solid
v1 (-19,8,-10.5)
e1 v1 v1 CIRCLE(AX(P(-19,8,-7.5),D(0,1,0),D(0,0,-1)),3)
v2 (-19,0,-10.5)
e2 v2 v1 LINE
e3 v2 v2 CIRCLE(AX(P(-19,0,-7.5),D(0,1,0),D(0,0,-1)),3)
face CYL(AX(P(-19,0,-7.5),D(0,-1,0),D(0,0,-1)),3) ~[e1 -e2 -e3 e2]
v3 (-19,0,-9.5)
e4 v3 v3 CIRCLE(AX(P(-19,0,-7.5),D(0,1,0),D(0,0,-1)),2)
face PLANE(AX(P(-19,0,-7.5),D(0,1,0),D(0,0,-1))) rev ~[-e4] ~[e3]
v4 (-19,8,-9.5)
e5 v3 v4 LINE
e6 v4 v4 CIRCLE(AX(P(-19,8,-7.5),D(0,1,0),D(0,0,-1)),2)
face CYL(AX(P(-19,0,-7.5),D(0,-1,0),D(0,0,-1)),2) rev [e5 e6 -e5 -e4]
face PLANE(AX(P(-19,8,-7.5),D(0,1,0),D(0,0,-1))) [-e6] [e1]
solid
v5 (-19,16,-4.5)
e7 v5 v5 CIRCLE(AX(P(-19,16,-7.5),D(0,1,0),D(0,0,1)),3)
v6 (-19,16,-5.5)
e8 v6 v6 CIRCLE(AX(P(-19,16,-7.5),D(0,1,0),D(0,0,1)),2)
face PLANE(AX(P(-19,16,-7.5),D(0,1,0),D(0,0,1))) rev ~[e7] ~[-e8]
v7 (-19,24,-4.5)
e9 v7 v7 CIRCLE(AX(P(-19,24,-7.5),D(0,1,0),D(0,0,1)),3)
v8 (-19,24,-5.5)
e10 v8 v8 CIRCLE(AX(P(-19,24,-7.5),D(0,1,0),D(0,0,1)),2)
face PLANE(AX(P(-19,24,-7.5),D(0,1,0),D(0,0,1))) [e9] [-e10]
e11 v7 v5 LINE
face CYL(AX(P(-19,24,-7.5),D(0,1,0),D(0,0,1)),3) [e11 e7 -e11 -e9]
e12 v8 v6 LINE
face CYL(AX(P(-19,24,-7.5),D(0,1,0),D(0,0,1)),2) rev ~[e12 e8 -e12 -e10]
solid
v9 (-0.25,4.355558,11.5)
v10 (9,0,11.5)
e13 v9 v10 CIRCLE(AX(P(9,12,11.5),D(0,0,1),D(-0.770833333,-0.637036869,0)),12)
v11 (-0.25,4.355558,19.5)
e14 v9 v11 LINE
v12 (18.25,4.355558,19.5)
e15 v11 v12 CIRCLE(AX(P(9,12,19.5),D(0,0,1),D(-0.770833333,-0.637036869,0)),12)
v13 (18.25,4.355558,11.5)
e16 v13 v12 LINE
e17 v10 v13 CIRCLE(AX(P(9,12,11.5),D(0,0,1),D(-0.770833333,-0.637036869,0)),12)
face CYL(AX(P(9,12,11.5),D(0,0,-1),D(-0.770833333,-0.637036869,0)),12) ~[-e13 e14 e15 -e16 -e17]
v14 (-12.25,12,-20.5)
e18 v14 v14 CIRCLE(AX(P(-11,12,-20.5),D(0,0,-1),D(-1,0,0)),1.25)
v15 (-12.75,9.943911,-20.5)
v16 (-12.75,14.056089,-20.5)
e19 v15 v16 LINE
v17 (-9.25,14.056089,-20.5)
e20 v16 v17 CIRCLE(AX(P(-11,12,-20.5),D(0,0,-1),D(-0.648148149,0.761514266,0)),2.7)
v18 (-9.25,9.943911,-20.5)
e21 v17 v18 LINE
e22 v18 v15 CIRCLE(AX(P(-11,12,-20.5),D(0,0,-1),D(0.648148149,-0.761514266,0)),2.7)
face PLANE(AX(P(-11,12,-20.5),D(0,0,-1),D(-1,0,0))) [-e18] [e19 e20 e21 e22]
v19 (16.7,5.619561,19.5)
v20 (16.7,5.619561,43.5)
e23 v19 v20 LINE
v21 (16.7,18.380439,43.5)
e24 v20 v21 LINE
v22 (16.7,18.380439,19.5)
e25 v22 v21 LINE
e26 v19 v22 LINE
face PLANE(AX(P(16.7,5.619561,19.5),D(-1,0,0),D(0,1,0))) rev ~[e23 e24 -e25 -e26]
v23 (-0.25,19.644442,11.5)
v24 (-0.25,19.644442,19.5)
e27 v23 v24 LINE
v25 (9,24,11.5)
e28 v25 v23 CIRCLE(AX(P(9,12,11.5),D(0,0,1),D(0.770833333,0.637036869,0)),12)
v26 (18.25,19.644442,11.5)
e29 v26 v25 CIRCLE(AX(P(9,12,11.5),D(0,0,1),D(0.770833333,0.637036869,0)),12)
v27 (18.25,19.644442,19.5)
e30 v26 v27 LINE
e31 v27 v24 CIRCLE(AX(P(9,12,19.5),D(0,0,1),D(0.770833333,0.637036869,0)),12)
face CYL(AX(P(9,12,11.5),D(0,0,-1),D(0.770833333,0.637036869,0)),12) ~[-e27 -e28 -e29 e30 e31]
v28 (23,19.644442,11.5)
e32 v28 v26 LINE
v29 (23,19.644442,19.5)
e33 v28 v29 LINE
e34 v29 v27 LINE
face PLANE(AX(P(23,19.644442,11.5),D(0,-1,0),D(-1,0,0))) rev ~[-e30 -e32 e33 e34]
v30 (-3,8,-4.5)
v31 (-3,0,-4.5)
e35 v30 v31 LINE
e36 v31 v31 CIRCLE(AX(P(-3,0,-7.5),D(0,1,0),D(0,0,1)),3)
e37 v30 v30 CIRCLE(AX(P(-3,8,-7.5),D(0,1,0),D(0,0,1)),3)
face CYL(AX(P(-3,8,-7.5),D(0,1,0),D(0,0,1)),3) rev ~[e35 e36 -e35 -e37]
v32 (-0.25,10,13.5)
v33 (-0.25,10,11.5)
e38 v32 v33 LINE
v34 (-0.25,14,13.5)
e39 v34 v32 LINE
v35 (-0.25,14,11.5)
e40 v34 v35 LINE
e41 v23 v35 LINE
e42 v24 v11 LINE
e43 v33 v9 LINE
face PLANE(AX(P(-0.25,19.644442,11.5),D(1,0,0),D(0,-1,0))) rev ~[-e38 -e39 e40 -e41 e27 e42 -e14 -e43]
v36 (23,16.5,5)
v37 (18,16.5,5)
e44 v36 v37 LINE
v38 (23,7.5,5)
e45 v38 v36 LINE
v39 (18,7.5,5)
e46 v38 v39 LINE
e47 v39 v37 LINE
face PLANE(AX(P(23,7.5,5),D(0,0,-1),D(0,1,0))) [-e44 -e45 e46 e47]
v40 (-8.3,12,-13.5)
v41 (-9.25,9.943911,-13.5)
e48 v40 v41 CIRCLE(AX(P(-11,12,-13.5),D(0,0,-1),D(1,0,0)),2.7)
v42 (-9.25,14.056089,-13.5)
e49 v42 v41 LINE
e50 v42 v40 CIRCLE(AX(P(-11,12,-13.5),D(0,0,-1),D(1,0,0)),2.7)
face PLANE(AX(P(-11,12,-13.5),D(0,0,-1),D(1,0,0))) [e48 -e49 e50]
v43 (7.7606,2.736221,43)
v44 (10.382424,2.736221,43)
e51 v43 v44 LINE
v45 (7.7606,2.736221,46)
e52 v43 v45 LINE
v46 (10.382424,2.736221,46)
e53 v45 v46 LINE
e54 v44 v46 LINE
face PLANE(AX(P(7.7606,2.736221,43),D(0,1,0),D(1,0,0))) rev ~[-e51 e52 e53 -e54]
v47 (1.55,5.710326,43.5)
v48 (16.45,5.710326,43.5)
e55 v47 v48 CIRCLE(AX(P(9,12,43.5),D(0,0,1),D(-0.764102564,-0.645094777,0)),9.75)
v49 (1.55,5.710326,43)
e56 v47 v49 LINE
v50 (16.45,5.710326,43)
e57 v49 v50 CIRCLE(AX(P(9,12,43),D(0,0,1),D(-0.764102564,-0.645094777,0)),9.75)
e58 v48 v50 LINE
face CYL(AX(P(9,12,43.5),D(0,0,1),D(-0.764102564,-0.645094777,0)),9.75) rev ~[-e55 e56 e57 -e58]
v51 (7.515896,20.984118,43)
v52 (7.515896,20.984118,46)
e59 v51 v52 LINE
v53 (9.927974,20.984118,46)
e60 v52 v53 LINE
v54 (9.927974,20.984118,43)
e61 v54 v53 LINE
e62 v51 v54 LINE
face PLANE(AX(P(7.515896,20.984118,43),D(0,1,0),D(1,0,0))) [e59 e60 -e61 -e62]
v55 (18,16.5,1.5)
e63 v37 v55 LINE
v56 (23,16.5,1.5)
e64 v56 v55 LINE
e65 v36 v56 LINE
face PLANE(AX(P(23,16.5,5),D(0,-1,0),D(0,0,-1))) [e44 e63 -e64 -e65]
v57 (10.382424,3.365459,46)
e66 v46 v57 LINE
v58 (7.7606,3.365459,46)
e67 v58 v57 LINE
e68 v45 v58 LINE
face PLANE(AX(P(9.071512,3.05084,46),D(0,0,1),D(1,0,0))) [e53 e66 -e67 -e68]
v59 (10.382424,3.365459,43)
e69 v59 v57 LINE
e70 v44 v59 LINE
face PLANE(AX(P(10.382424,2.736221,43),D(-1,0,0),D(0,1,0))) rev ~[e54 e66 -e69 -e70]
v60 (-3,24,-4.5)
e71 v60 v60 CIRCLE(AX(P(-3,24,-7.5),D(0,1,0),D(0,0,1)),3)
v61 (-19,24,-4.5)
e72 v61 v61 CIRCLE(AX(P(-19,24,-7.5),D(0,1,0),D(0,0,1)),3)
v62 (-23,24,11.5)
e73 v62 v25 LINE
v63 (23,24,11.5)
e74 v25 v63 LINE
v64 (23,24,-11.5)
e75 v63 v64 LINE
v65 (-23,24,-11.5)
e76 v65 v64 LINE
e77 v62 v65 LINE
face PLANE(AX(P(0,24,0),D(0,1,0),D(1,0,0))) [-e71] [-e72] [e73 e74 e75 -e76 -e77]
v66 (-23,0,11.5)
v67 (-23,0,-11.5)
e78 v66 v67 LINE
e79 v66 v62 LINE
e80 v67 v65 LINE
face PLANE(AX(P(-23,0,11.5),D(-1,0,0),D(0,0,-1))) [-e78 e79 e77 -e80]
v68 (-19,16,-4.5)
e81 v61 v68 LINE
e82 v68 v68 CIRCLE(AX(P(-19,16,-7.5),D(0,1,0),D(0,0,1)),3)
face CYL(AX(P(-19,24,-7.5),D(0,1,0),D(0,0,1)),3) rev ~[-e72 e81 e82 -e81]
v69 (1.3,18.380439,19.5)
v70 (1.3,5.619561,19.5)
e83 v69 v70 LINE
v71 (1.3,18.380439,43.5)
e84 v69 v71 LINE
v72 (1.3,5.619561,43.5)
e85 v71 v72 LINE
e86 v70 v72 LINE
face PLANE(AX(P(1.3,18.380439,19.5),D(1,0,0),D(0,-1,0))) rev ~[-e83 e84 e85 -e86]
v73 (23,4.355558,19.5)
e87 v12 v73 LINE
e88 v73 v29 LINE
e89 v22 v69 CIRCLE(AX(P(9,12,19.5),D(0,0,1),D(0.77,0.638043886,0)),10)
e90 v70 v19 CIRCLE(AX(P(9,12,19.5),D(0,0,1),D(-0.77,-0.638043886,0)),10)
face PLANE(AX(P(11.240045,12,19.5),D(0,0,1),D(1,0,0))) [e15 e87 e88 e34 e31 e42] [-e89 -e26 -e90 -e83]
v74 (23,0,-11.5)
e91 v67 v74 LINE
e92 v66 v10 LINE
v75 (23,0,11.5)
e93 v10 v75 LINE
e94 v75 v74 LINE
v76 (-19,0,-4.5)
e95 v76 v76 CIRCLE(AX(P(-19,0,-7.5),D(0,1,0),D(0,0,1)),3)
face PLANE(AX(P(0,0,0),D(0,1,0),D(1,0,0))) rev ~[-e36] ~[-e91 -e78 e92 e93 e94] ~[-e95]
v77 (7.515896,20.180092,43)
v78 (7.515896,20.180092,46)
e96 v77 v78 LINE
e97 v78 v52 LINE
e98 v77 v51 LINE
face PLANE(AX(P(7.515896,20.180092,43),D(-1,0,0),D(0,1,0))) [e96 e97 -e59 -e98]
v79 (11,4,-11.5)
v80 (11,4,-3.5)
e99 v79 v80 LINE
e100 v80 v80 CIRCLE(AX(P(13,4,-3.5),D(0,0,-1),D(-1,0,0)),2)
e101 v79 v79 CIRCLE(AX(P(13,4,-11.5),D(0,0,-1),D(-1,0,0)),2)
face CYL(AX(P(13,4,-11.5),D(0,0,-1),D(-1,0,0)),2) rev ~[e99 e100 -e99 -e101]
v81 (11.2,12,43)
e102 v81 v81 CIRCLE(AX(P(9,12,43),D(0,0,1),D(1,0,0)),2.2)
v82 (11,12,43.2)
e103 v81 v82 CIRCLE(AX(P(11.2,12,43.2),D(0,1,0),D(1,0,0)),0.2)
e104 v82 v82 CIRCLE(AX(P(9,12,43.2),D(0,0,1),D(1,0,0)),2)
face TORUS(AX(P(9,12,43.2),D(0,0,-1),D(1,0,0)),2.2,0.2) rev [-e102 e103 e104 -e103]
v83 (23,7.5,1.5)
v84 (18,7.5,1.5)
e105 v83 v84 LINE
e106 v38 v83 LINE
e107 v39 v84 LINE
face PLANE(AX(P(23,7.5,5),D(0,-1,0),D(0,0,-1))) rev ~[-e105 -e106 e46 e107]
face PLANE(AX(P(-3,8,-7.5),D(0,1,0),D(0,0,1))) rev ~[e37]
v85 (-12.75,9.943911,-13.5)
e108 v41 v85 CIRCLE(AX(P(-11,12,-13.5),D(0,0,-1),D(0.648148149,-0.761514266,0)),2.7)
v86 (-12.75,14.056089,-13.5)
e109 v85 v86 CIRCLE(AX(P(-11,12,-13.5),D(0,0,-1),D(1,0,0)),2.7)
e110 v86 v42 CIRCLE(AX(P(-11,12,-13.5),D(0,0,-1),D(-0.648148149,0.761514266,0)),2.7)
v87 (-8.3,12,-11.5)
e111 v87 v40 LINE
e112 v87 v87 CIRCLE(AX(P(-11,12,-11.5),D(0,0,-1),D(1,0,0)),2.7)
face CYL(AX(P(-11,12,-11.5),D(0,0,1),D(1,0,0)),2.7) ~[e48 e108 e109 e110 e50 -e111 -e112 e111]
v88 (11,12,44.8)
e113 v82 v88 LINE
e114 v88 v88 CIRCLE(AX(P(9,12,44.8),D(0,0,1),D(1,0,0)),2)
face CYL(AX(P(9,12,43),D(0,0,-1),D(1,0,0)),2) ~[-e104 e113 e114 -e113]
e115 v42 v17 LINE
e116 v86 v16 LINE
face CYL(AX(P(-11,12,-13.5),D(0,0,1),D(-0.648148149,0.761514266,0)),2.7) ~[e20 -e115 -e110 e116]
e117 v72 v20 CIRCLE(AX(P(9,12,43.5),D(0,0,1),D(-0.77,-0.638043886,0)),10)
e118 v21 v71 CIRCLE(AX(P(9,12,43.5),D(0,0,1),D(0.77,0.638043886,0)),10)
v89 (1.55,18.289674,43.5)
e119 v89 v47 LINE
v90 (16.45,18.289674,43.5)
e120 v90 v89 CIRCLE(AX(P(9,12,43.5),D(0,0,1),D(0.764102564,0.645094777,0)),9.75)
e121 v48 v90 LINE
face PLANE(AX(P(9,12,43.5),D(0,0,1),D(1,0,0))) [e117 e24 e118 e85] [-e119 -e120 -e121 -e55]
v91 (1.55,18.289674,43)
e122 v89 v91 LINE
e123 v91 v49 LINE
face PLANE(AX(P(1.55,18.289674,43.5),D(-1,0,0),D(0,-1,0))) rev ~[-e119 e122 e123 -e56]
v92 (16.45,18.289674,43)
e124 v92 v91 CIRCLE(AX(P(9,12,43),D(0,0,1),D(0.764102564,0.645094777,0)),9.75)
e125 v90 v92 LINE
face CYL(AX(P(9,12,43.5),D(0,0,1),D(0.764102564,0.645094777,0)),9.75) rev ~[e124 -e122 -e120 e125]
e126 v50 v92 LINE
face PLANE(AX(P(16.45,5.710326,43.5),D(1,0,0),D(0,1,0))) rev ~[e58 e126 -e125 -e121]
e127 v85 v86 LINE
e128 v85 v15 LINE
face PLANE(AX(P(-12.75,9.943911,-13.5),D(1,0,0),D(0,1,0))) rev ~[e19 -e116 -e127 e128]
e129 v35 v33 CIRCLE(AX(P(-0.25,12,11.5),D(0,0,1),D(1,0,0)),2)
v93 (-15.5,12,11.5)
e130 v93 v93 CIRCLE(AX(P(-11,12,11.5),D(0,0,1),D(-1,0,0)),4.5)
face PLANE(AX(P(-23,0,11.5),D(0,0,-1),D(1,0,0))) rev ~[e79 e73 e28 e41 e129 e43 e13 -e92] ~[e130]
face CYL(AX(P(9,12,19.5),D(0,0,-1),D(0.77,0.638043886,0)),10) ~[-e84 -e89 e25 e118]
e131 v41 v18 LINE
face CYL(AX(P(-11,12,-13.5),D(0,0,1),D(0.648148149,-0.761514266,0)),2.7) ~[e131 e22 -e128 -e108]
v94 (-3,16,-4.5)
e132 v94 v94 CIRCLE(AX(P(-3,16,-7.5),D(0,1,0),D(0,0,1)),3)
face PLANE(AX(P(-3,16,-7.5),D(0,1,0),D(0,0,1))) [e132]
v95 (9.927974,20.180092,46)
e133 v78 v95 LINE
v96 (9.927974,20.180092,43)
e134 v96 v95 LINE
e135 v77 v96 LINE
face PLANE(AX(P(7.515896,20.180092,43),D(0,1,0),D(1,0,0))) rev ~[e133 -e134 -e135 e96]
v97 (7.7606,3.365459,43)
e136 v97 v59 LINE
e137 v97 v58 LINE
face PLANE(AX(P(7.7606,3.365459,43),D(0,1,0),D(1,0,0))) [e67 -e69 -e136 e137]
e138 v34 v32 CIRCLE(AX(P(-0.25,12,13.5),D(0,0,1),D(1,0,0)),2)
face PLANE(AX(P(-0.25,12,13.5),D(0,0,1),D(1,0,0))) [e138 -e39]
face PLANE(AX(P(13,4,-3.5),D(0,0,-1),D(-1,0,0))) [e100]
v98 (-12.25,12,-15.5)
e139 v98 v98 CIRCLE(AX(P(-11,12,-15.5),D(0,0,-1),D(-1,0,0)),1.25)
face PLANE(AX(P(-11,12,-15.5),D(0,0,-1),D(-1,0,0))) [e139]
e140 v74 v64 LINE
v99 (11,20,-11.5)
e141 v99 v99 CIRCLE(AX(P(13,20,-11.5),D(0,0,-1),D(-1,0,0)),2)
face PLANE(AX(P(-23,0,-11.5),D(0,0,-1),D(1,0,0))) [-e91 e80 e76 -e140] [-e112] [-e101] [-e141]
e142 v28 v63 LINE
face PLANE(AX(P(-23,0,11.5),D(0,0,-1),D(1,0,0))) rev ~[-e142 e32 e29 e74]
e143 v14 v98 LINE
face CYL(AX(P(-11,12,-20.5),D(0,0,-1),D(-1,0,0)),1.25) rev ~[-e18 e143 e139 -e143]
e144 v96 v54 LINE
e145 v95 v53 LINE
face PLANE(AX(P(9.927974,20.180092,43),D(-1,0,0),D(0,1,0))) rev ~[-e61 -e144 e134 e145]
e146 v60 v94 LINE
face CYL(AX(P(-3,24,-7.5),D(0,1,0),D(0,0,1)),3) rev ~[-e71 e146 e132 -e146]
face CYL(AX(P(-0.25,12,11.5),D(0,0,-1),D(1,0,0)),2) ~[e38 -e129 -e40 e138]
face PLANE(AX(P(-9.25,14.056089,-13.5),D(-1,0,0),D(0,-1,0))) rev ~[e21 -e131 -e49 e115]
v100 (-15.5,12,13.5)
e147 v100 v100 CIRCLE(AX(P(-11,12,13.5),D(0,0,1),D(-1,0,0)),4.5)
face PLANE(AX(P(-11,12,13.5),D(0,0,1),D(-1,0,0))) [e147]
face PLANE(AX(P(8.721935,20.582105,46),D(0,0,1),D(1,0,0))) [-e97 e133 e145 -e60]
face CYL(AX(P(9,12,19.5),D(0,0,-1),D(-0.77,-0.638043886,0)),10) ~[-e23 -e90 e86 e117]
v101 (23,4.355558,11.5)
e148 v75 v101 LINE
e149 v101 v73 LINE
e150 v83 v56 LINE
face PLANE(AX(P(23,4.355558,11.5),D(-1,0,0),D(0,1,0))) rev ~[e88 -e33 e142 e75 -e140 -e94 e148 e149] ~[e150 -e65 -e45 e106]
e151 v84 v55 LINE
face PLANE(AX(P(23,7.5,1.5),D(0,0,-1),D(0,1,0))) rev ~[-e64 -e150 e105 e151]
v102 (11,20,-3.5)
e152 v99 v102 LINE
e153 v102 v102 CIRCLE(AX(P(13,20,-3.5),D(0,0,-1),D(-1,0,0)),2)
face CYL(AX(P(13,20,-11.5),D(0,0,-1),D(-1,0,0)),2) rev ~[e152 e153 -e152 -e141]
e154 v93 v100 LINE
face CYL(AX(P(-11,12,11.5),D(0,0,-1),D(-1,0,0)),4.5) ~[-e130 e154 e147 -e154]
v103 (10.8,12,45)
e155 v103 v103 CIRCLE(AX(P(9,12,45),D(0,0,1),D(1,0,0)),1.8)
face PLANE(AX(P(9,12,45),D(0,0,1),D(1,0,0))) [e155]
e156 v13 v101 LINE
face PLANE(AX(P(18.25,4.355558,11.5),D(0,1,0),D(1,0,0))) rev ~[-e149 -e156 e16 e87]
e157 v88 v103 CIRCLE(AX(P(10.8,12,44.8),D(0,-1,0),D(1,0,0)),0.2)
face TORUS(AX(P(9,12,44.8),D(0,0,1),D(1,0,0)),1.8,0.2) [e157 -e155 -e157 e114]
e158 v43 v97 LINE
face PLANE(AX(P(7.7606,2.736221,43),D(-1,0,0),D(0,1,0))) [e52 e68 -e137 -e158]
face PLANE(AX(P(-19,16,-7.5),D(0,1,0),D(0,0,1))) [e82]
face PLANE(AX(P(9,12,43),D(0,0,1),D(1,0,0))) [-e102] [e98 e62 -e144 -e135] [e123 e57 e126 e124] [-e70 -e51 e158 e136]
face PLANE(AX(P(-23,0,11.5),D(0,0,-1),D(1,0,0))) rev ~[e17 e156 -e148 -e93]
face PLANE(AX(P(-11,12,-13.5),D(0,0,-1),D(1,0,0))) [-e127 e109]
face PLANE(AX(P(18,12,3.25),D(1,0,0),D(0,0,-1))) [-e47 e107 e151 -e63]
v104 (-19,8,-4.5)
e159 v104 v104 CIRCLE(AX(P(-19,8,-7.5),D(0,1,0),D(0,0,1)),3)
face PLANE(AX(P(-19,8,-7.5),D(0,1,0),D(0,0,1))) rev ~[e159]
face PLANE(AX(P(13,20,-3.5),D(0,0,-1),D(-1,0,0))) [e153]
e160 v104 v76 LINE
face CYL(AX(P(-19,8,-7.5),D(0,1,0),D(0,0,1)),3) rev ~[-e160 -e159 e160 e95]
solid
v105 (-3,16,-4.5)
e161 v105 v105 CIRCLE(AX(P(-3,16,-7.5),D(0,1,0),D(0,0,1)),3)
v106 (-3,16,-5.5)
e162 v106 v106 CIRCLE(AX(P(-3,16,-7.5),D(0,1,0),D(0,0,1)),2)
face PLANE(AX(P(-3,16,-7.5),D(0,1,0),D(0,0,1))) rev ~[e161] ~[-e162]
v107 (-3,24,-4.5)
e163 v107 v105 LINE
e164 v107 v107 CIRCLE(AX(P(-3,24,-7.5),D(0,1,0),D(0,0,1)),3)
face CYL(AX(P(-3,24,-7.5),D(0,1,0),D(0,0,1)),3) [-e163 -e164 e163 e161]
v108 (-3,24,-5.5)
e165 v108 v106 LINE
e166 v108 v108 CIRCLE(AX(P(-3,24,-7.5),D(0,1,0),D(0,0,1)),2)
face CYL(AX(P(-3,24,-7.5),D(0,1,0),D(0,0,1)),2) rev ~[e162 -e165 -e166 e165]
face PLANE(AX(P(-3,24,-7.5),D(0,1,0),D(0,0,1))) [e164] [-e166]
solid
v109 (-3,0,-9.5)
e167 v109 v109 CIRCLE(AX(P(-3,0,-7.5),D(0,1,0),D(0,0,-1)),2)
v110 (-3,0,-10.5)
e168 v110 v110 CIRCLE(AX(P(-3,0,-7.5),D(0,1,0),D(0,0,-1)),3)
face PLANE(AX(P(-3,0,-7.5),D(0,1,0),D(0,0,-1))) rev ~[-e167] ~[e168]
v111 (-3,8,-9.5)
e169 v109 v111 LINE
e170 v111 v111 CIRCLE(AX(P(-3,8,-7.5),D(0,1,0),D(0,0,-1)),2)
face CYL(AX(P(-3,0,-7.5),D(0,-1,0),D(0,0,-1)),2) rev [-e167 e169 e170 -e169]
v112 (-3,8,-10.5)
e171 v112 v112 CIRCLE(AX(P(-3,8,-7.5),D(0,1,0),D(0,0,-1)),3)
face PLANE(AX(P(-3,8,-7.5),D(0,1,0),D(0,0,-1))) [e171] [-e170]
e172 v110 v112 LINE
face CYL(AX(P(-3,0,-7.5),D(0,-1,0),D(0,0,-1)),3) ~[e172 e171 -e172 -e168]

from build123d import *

# Parameters (mm, degrees)
SKETCH_1_W            = 46
SKETCH_1_H            = 23
EXTRUDE_1_DEPTH       = 24
EXTRUDE_2_DEPTH       = 8
EXTRUDE_3_DEPTH       = 24
SKETCH_4_R            = 4.5
SKETCH_4_R_2          = 2
EXTRUDE_4_DEPTH       = 2
SKETCH_6_W            = 3.5
SKETCH_6_H            = 9
CUT_EXTRUDE_1_DEPTH   = 5
SKETCH_7_R            = 2.7
EXTRUDE_5_DEPTH       = 2
EXTRUDE_6_DEPTH       = 7
SKETCH_9_R            = 1.25
CUT_EXTRUDE_2_DEPTH   = 5
SKETCH_10_R           = 3
CUT_EXTRUDE_3_DEPTH   = 8
CUT_EXTRUDE_START     = -16
SKETCH_10_2_R         = 3
CUT_EXTRUDE_4_DEPTH   = 8
SKETCH_11_R           = 2
CUT_EXTRUDE_5_DEPTH   = 8
SKETCH1_R             = 3
SKETCH1_R_2           = 2
BOSS_EXTRUDE1_DEPTH   = 8
BOSS_EXTRUDE1_2_DEPTH = 8
BOSS_EXTRUDE2_START   = -24
SKETCH1_2_R           = 3
SKETCH1_2_R_2         = 2
BOSS_EXTRUDE2_DEPTH   = 8
BOSS_EXTRUDE2_2_DEPTH = 8
CUT_EXTRUDE1_DEPTH    = 0.5
SKETCH3_R             = 2
BOSS_EXTRUDE3_DEPTH   = 2
FILLET1_R             = 0.2
SKETCH4_W             = 2.412078278
SKETCH4_H             = 0.804026092
SKETCH4_W_2           = 2.621824216
SKETCH4_H_2           = 0.629237812
BOSS_EXTRUDE4_DEPTH   = 3


with BuildPart() as part:
    # 草图1 → 凸台-拉伸1 (new body)
    with BuildSketch(Plane(origin=(0, 0, 0), x_dir=(1, 0, 0), z_dir=(0, 1, 0))):
        Rectangle(SKETCH_1_W, SKETCH_1_H)
    extrude(amount=EXTRUDE_1_DEPTH)

    # 草图2 → 凸台-拉伸2 (add)
    with BuildSketch(Plane.XY.offset(11.5)):
        with BuildLine():
            Line((-0.25, 19.644442426), (-0.25, 4.355557574))
            ThreePointArc((-0.25, 4.355557574), (9, 0), (18.25, 4.355557574))
            Line((18.25, 4.355557574), (23, 4.355557574))
            Line((23, 4.355557574), (23, 19.644442426))
            Line((23, 19.644442426), (18.25, 19.644442426))
            ThreePointArc((18.25, 19.644442426), (9, 24), (-0.25, 19.644442426))
        make_face()
    extrude(amount=EXTRUDE_2_DEPTH)

    # 草图3 → 凸台-拉伸3 (add)
    with BuildSketch(Plane.XY.offset(19.5)):
        with BuildLine():
            Line((1.3, 18.380438856), (1.3, 5.619561144))
            ThreePointArc((1.3, 5.619561144), (9, 2), (16.7, 5.619561144))
            Line((16.7, 5.619561144), (16.7, 18.380438856))
            ThreePointArc((16.7, 18.380438856), (9, 22), (1.3, 18.380438856))
        make_face()
    extrude(amount=EXTRUDE_3_DEPTH)

    # 草图4 → 凸台-拉伸4 (add)
    with BuildSketch(Plane.XY.offset(11.5)):
        with Locations(Location((-11, 12, 0), (0, 0, 180))):
            Circle(SKETCH_4_R)
        with Locations((-0.25, 12)):
            Circle(SKETCH_4_R_2)
    extrude(amount=EXTRUDE_4_DEPTH)

    # 草图6 → 切除-拉伸1 (cut)
    with BuildSketch(Plane(origin=(23, 0, 0), x_dir=(0, 0, -1), z_dir=(1, 0, 0))):
        with Locations((-3.25, 12)):
            Rectangle(SKETCH_6_W, SKETCH_6_H)
    extrude(amount=-CUT_EXTRUDE_1_DEPTH, mode=Mode.SUBTRACT)

    # 草图7 → 凸台-拉伸5 (add)
    with BuildSketch(Plane(origin=(0, 0, -11.5), x_dir=(-1, 0, 0), z_dir=(0, 0, -1))):
        with Locations(Location((11, 12, 0), (0, 0, 180))):
            Circle(SKETCH_7_R)
    extrude(amount=EXTRUDE_5_DEPTH)

    # 草图8 → 凸台-拉伸6 (add)
    with BuildSketch(Plane(origin=(0, 0, -13.5), x_dir=(-1, 0, 0), z_dir=(0, 0, -1))):
        with BuildLine():
            Line((9.25, 14.056088519), (9.25, 9.943911481))
            ThreePointArc((9.25, 9.943911481), (11, 9.3), (12.75, 9.943911481))
            Line((12.75, 9.943911481), (12.75, 14.056088519))
            ThreePointArc((12.75, 14.056088519), (11, 14.7), (9.25, 14.056088519))
        make_face()
    extrude(amount=EXTRUDE_6_DEPTH)

    # 草图9 → 切除-拉伸2 (cut)
    with BuildSketch(Plane(origin=(0, 0, -20.5), x_dir=(-1, 0, 0), z_dir=(0, 0, -1))):
        with Locations((11, 12)):
            Circle(SKETCH_9_R)
    extrude(amount=-CUT_EXTRUDE_2_DEPTH, mode=Mode.SUBTRACT)

    # 草图10 → 切除-拉伸3 (cut)
    with BuildSketch(Plane(origin=(0, 24, 0), x_dir=(1, 0, 0), z_dir=(0, 1, 0))):
        with Locations(Location((-19, 7.5, 0), (0, 0, 270))):
            Circle(SKETCH_10_R)
        with Locations(Location((-3, 7.5, 0), (0, 0, 270))):
            Circle(SKETCH_10_R)
    extrude(amount=-CUT_EXTRUDE_3_DEPTH, mode=Mode.SUBTRACT)

    # 草图10<2> → 切除-拉伸4 (cut)
    with BuildSketch(Plane(origin=(0, 24, 0), x_dir=(1, 0, 0), z_dir=(0, 1, 0)).offset(CUT_EXTRUDE_START)):
        with Locations(Location((-19, 7.5, 0), (0, 0, 270))):
            Circle(SKETCH_10_2_R)
        with Locations(Location((-3, 7.5, 0), (0, 0, 270))):
            Circle(SKETCH_10_2_R)
    extrude(amount=-CUT_EXTRUDE_4_DEPTH, mode=Mode.SUBTRACT)

    # 草图11 → 切除-拉伸5 (cut)
    with BuildSketch(Plane(origin=(0, 0, -11.5), x_dir=(-1, 0, 0), z_dir=(0, 0, -1))):
        with Locations((-13, 20)):
            Circle(SKETCH_11_R)
        with Locations((-13, 4)):
            Circle(SKETCH_11_R)
    extrude(amount=-CUT_EXTRUDE_5_DEPTH, mode=Mode.SUBTRACT)

    # Sketch2 → Cut-Extrude1 (cut)
    with BuildSketch(Plane.XY.offset(43.5)):
        with BuildLine():
            Line((16.45, 5.710325923), (16.45, 18.289674077))
            ThreePointArc((16.45, 18.289674077), (9, 21.75), (1.55, 18.289674077))
            Line((1.55, 18.289674077), (1.55, 5.710325923))
            ThreePointArc((1.55, 5.710325923), (9, 2.25), (16.45, 5.710325923))
        make_face()
    extrude(amount=-CUT_EXTRUDE1_DEPTH, mode=Mode.SUBTRACT)

    # Sketch3 → Boss-Extrude3 (add)
    with BuildSketch(Plane.XY.offset(43)):
        with Locations((9, 12)):
            Circle(SKETCH3_R)
    extrude(amount=BOSS_EXTRUDE3_DEPTH)

    # Fillet1
    fillet1_edges = [part.edges().sort_by_distance(p)[0] for p in [
        (7, 12, 43),
        (7, 12, 45),
    ]]
    fillet(fillet1_edges, radius=FILLET1_R)

    # Sketch4 → Boss-Extrude4 (add)
    with BuildSketch(Plane.XY.offset(43)):
        with Locations((8.721935224, 20.582104599)):
            Rectangle(SKETCH4_W, SKETCH4_H)
        with Locations((9.071511786, 3.050840011)):
            Rectangle(SKETCH4_W_2, SKETCH4_H_2)
    extrude(amount=BOSS_EXTRUDE4_DEPTH)


with BuildPart() as body_2:
    # Sketch1 → Boss-Extrude1 (new body)
    with BuildSketch(Plane(origin=(0, 24, 0), x_dir=(1, 0, 0), z_dir=(0, 1, 0))):
        with Locations(Location((-3, 7.5, 0), (0, 0, 270))):
            Circle(SKETCH1_R)
        with Locations(Location((-3, 7.5, 0), (0, 0, 270))):
            Circle(SKETCH1_R_2, mode=Mode.SUBTRACT)
    extrude(amount=-BOSS_EXTRUDE1_DEPTH)


with BuildPart() as body_3:
    # Sketch1 → Boss-Extrude1 2 (new body)
    with BuildSketch(Plane(origin=(0, 24, 0), x_dir=(1, 0, 0), z_dir=(0, 1, 0))):
        with Locations(Location((-19, 7.5, 0), (0, 0, 270))):
            Circle(SKETCH1_R)
        with Locations(Location((-19, 7.5, 0), (0, 0, 270))):
            Circle(SKETCH1_R_2, mode=Mode.SUBTRACT)
    extrude(amount=-BOSS_EXTRUDE1_2_DEPTH)


with BuildPart() as body_4:
    # Sketch1<2> → Boss-Extrude2 (new body)
    with BuildSketch(Plane(origin=(0, 24, 0), x_dir=(1, 0, 0), z_dir=(0, 1, 0)).offset(BOSS_EXTRUDE2_START)):
        with Locations(Location((-3, 7.5, 0), (0, 0, 90))):
            Circle(SKETCH1_2_R)
        with Locations(Location((-3, 7.5, 0), (0, 0, 90))):
            Circle(SKETCH1_2_R_2, mode=Mode.SUBTRACT)
    extrude(amount=BOSS_EXTRUDE2_DEPTH)


with BuildPart() as body_5:
    # Sketch1<2> → Boss-Extrude2 2 (new body)
    with BuildSketch(Plane(origin=(0, 24, 0), x_dir=(1, 0, 0), z_dir=(0, 1, 0)).offset(BOSS_EXTRUDE2_START)):
        with Locations(Location((-19, 7.5, 0), (0, 0, 90))):
            Circle(SKETCH1_2_R)
        with Locations(Location((-19, 7.5, 0), (0, 0, 90))):
            Circle(SKETCH1_2_R_2, mode=Mode.SUBTRACT)
    extrude(amount=BOSS_EXTRUDE2_2_DEPTH)


solid = Compound([part.part, body_2.part, body_3.part, body_4.part, body_5.part])
